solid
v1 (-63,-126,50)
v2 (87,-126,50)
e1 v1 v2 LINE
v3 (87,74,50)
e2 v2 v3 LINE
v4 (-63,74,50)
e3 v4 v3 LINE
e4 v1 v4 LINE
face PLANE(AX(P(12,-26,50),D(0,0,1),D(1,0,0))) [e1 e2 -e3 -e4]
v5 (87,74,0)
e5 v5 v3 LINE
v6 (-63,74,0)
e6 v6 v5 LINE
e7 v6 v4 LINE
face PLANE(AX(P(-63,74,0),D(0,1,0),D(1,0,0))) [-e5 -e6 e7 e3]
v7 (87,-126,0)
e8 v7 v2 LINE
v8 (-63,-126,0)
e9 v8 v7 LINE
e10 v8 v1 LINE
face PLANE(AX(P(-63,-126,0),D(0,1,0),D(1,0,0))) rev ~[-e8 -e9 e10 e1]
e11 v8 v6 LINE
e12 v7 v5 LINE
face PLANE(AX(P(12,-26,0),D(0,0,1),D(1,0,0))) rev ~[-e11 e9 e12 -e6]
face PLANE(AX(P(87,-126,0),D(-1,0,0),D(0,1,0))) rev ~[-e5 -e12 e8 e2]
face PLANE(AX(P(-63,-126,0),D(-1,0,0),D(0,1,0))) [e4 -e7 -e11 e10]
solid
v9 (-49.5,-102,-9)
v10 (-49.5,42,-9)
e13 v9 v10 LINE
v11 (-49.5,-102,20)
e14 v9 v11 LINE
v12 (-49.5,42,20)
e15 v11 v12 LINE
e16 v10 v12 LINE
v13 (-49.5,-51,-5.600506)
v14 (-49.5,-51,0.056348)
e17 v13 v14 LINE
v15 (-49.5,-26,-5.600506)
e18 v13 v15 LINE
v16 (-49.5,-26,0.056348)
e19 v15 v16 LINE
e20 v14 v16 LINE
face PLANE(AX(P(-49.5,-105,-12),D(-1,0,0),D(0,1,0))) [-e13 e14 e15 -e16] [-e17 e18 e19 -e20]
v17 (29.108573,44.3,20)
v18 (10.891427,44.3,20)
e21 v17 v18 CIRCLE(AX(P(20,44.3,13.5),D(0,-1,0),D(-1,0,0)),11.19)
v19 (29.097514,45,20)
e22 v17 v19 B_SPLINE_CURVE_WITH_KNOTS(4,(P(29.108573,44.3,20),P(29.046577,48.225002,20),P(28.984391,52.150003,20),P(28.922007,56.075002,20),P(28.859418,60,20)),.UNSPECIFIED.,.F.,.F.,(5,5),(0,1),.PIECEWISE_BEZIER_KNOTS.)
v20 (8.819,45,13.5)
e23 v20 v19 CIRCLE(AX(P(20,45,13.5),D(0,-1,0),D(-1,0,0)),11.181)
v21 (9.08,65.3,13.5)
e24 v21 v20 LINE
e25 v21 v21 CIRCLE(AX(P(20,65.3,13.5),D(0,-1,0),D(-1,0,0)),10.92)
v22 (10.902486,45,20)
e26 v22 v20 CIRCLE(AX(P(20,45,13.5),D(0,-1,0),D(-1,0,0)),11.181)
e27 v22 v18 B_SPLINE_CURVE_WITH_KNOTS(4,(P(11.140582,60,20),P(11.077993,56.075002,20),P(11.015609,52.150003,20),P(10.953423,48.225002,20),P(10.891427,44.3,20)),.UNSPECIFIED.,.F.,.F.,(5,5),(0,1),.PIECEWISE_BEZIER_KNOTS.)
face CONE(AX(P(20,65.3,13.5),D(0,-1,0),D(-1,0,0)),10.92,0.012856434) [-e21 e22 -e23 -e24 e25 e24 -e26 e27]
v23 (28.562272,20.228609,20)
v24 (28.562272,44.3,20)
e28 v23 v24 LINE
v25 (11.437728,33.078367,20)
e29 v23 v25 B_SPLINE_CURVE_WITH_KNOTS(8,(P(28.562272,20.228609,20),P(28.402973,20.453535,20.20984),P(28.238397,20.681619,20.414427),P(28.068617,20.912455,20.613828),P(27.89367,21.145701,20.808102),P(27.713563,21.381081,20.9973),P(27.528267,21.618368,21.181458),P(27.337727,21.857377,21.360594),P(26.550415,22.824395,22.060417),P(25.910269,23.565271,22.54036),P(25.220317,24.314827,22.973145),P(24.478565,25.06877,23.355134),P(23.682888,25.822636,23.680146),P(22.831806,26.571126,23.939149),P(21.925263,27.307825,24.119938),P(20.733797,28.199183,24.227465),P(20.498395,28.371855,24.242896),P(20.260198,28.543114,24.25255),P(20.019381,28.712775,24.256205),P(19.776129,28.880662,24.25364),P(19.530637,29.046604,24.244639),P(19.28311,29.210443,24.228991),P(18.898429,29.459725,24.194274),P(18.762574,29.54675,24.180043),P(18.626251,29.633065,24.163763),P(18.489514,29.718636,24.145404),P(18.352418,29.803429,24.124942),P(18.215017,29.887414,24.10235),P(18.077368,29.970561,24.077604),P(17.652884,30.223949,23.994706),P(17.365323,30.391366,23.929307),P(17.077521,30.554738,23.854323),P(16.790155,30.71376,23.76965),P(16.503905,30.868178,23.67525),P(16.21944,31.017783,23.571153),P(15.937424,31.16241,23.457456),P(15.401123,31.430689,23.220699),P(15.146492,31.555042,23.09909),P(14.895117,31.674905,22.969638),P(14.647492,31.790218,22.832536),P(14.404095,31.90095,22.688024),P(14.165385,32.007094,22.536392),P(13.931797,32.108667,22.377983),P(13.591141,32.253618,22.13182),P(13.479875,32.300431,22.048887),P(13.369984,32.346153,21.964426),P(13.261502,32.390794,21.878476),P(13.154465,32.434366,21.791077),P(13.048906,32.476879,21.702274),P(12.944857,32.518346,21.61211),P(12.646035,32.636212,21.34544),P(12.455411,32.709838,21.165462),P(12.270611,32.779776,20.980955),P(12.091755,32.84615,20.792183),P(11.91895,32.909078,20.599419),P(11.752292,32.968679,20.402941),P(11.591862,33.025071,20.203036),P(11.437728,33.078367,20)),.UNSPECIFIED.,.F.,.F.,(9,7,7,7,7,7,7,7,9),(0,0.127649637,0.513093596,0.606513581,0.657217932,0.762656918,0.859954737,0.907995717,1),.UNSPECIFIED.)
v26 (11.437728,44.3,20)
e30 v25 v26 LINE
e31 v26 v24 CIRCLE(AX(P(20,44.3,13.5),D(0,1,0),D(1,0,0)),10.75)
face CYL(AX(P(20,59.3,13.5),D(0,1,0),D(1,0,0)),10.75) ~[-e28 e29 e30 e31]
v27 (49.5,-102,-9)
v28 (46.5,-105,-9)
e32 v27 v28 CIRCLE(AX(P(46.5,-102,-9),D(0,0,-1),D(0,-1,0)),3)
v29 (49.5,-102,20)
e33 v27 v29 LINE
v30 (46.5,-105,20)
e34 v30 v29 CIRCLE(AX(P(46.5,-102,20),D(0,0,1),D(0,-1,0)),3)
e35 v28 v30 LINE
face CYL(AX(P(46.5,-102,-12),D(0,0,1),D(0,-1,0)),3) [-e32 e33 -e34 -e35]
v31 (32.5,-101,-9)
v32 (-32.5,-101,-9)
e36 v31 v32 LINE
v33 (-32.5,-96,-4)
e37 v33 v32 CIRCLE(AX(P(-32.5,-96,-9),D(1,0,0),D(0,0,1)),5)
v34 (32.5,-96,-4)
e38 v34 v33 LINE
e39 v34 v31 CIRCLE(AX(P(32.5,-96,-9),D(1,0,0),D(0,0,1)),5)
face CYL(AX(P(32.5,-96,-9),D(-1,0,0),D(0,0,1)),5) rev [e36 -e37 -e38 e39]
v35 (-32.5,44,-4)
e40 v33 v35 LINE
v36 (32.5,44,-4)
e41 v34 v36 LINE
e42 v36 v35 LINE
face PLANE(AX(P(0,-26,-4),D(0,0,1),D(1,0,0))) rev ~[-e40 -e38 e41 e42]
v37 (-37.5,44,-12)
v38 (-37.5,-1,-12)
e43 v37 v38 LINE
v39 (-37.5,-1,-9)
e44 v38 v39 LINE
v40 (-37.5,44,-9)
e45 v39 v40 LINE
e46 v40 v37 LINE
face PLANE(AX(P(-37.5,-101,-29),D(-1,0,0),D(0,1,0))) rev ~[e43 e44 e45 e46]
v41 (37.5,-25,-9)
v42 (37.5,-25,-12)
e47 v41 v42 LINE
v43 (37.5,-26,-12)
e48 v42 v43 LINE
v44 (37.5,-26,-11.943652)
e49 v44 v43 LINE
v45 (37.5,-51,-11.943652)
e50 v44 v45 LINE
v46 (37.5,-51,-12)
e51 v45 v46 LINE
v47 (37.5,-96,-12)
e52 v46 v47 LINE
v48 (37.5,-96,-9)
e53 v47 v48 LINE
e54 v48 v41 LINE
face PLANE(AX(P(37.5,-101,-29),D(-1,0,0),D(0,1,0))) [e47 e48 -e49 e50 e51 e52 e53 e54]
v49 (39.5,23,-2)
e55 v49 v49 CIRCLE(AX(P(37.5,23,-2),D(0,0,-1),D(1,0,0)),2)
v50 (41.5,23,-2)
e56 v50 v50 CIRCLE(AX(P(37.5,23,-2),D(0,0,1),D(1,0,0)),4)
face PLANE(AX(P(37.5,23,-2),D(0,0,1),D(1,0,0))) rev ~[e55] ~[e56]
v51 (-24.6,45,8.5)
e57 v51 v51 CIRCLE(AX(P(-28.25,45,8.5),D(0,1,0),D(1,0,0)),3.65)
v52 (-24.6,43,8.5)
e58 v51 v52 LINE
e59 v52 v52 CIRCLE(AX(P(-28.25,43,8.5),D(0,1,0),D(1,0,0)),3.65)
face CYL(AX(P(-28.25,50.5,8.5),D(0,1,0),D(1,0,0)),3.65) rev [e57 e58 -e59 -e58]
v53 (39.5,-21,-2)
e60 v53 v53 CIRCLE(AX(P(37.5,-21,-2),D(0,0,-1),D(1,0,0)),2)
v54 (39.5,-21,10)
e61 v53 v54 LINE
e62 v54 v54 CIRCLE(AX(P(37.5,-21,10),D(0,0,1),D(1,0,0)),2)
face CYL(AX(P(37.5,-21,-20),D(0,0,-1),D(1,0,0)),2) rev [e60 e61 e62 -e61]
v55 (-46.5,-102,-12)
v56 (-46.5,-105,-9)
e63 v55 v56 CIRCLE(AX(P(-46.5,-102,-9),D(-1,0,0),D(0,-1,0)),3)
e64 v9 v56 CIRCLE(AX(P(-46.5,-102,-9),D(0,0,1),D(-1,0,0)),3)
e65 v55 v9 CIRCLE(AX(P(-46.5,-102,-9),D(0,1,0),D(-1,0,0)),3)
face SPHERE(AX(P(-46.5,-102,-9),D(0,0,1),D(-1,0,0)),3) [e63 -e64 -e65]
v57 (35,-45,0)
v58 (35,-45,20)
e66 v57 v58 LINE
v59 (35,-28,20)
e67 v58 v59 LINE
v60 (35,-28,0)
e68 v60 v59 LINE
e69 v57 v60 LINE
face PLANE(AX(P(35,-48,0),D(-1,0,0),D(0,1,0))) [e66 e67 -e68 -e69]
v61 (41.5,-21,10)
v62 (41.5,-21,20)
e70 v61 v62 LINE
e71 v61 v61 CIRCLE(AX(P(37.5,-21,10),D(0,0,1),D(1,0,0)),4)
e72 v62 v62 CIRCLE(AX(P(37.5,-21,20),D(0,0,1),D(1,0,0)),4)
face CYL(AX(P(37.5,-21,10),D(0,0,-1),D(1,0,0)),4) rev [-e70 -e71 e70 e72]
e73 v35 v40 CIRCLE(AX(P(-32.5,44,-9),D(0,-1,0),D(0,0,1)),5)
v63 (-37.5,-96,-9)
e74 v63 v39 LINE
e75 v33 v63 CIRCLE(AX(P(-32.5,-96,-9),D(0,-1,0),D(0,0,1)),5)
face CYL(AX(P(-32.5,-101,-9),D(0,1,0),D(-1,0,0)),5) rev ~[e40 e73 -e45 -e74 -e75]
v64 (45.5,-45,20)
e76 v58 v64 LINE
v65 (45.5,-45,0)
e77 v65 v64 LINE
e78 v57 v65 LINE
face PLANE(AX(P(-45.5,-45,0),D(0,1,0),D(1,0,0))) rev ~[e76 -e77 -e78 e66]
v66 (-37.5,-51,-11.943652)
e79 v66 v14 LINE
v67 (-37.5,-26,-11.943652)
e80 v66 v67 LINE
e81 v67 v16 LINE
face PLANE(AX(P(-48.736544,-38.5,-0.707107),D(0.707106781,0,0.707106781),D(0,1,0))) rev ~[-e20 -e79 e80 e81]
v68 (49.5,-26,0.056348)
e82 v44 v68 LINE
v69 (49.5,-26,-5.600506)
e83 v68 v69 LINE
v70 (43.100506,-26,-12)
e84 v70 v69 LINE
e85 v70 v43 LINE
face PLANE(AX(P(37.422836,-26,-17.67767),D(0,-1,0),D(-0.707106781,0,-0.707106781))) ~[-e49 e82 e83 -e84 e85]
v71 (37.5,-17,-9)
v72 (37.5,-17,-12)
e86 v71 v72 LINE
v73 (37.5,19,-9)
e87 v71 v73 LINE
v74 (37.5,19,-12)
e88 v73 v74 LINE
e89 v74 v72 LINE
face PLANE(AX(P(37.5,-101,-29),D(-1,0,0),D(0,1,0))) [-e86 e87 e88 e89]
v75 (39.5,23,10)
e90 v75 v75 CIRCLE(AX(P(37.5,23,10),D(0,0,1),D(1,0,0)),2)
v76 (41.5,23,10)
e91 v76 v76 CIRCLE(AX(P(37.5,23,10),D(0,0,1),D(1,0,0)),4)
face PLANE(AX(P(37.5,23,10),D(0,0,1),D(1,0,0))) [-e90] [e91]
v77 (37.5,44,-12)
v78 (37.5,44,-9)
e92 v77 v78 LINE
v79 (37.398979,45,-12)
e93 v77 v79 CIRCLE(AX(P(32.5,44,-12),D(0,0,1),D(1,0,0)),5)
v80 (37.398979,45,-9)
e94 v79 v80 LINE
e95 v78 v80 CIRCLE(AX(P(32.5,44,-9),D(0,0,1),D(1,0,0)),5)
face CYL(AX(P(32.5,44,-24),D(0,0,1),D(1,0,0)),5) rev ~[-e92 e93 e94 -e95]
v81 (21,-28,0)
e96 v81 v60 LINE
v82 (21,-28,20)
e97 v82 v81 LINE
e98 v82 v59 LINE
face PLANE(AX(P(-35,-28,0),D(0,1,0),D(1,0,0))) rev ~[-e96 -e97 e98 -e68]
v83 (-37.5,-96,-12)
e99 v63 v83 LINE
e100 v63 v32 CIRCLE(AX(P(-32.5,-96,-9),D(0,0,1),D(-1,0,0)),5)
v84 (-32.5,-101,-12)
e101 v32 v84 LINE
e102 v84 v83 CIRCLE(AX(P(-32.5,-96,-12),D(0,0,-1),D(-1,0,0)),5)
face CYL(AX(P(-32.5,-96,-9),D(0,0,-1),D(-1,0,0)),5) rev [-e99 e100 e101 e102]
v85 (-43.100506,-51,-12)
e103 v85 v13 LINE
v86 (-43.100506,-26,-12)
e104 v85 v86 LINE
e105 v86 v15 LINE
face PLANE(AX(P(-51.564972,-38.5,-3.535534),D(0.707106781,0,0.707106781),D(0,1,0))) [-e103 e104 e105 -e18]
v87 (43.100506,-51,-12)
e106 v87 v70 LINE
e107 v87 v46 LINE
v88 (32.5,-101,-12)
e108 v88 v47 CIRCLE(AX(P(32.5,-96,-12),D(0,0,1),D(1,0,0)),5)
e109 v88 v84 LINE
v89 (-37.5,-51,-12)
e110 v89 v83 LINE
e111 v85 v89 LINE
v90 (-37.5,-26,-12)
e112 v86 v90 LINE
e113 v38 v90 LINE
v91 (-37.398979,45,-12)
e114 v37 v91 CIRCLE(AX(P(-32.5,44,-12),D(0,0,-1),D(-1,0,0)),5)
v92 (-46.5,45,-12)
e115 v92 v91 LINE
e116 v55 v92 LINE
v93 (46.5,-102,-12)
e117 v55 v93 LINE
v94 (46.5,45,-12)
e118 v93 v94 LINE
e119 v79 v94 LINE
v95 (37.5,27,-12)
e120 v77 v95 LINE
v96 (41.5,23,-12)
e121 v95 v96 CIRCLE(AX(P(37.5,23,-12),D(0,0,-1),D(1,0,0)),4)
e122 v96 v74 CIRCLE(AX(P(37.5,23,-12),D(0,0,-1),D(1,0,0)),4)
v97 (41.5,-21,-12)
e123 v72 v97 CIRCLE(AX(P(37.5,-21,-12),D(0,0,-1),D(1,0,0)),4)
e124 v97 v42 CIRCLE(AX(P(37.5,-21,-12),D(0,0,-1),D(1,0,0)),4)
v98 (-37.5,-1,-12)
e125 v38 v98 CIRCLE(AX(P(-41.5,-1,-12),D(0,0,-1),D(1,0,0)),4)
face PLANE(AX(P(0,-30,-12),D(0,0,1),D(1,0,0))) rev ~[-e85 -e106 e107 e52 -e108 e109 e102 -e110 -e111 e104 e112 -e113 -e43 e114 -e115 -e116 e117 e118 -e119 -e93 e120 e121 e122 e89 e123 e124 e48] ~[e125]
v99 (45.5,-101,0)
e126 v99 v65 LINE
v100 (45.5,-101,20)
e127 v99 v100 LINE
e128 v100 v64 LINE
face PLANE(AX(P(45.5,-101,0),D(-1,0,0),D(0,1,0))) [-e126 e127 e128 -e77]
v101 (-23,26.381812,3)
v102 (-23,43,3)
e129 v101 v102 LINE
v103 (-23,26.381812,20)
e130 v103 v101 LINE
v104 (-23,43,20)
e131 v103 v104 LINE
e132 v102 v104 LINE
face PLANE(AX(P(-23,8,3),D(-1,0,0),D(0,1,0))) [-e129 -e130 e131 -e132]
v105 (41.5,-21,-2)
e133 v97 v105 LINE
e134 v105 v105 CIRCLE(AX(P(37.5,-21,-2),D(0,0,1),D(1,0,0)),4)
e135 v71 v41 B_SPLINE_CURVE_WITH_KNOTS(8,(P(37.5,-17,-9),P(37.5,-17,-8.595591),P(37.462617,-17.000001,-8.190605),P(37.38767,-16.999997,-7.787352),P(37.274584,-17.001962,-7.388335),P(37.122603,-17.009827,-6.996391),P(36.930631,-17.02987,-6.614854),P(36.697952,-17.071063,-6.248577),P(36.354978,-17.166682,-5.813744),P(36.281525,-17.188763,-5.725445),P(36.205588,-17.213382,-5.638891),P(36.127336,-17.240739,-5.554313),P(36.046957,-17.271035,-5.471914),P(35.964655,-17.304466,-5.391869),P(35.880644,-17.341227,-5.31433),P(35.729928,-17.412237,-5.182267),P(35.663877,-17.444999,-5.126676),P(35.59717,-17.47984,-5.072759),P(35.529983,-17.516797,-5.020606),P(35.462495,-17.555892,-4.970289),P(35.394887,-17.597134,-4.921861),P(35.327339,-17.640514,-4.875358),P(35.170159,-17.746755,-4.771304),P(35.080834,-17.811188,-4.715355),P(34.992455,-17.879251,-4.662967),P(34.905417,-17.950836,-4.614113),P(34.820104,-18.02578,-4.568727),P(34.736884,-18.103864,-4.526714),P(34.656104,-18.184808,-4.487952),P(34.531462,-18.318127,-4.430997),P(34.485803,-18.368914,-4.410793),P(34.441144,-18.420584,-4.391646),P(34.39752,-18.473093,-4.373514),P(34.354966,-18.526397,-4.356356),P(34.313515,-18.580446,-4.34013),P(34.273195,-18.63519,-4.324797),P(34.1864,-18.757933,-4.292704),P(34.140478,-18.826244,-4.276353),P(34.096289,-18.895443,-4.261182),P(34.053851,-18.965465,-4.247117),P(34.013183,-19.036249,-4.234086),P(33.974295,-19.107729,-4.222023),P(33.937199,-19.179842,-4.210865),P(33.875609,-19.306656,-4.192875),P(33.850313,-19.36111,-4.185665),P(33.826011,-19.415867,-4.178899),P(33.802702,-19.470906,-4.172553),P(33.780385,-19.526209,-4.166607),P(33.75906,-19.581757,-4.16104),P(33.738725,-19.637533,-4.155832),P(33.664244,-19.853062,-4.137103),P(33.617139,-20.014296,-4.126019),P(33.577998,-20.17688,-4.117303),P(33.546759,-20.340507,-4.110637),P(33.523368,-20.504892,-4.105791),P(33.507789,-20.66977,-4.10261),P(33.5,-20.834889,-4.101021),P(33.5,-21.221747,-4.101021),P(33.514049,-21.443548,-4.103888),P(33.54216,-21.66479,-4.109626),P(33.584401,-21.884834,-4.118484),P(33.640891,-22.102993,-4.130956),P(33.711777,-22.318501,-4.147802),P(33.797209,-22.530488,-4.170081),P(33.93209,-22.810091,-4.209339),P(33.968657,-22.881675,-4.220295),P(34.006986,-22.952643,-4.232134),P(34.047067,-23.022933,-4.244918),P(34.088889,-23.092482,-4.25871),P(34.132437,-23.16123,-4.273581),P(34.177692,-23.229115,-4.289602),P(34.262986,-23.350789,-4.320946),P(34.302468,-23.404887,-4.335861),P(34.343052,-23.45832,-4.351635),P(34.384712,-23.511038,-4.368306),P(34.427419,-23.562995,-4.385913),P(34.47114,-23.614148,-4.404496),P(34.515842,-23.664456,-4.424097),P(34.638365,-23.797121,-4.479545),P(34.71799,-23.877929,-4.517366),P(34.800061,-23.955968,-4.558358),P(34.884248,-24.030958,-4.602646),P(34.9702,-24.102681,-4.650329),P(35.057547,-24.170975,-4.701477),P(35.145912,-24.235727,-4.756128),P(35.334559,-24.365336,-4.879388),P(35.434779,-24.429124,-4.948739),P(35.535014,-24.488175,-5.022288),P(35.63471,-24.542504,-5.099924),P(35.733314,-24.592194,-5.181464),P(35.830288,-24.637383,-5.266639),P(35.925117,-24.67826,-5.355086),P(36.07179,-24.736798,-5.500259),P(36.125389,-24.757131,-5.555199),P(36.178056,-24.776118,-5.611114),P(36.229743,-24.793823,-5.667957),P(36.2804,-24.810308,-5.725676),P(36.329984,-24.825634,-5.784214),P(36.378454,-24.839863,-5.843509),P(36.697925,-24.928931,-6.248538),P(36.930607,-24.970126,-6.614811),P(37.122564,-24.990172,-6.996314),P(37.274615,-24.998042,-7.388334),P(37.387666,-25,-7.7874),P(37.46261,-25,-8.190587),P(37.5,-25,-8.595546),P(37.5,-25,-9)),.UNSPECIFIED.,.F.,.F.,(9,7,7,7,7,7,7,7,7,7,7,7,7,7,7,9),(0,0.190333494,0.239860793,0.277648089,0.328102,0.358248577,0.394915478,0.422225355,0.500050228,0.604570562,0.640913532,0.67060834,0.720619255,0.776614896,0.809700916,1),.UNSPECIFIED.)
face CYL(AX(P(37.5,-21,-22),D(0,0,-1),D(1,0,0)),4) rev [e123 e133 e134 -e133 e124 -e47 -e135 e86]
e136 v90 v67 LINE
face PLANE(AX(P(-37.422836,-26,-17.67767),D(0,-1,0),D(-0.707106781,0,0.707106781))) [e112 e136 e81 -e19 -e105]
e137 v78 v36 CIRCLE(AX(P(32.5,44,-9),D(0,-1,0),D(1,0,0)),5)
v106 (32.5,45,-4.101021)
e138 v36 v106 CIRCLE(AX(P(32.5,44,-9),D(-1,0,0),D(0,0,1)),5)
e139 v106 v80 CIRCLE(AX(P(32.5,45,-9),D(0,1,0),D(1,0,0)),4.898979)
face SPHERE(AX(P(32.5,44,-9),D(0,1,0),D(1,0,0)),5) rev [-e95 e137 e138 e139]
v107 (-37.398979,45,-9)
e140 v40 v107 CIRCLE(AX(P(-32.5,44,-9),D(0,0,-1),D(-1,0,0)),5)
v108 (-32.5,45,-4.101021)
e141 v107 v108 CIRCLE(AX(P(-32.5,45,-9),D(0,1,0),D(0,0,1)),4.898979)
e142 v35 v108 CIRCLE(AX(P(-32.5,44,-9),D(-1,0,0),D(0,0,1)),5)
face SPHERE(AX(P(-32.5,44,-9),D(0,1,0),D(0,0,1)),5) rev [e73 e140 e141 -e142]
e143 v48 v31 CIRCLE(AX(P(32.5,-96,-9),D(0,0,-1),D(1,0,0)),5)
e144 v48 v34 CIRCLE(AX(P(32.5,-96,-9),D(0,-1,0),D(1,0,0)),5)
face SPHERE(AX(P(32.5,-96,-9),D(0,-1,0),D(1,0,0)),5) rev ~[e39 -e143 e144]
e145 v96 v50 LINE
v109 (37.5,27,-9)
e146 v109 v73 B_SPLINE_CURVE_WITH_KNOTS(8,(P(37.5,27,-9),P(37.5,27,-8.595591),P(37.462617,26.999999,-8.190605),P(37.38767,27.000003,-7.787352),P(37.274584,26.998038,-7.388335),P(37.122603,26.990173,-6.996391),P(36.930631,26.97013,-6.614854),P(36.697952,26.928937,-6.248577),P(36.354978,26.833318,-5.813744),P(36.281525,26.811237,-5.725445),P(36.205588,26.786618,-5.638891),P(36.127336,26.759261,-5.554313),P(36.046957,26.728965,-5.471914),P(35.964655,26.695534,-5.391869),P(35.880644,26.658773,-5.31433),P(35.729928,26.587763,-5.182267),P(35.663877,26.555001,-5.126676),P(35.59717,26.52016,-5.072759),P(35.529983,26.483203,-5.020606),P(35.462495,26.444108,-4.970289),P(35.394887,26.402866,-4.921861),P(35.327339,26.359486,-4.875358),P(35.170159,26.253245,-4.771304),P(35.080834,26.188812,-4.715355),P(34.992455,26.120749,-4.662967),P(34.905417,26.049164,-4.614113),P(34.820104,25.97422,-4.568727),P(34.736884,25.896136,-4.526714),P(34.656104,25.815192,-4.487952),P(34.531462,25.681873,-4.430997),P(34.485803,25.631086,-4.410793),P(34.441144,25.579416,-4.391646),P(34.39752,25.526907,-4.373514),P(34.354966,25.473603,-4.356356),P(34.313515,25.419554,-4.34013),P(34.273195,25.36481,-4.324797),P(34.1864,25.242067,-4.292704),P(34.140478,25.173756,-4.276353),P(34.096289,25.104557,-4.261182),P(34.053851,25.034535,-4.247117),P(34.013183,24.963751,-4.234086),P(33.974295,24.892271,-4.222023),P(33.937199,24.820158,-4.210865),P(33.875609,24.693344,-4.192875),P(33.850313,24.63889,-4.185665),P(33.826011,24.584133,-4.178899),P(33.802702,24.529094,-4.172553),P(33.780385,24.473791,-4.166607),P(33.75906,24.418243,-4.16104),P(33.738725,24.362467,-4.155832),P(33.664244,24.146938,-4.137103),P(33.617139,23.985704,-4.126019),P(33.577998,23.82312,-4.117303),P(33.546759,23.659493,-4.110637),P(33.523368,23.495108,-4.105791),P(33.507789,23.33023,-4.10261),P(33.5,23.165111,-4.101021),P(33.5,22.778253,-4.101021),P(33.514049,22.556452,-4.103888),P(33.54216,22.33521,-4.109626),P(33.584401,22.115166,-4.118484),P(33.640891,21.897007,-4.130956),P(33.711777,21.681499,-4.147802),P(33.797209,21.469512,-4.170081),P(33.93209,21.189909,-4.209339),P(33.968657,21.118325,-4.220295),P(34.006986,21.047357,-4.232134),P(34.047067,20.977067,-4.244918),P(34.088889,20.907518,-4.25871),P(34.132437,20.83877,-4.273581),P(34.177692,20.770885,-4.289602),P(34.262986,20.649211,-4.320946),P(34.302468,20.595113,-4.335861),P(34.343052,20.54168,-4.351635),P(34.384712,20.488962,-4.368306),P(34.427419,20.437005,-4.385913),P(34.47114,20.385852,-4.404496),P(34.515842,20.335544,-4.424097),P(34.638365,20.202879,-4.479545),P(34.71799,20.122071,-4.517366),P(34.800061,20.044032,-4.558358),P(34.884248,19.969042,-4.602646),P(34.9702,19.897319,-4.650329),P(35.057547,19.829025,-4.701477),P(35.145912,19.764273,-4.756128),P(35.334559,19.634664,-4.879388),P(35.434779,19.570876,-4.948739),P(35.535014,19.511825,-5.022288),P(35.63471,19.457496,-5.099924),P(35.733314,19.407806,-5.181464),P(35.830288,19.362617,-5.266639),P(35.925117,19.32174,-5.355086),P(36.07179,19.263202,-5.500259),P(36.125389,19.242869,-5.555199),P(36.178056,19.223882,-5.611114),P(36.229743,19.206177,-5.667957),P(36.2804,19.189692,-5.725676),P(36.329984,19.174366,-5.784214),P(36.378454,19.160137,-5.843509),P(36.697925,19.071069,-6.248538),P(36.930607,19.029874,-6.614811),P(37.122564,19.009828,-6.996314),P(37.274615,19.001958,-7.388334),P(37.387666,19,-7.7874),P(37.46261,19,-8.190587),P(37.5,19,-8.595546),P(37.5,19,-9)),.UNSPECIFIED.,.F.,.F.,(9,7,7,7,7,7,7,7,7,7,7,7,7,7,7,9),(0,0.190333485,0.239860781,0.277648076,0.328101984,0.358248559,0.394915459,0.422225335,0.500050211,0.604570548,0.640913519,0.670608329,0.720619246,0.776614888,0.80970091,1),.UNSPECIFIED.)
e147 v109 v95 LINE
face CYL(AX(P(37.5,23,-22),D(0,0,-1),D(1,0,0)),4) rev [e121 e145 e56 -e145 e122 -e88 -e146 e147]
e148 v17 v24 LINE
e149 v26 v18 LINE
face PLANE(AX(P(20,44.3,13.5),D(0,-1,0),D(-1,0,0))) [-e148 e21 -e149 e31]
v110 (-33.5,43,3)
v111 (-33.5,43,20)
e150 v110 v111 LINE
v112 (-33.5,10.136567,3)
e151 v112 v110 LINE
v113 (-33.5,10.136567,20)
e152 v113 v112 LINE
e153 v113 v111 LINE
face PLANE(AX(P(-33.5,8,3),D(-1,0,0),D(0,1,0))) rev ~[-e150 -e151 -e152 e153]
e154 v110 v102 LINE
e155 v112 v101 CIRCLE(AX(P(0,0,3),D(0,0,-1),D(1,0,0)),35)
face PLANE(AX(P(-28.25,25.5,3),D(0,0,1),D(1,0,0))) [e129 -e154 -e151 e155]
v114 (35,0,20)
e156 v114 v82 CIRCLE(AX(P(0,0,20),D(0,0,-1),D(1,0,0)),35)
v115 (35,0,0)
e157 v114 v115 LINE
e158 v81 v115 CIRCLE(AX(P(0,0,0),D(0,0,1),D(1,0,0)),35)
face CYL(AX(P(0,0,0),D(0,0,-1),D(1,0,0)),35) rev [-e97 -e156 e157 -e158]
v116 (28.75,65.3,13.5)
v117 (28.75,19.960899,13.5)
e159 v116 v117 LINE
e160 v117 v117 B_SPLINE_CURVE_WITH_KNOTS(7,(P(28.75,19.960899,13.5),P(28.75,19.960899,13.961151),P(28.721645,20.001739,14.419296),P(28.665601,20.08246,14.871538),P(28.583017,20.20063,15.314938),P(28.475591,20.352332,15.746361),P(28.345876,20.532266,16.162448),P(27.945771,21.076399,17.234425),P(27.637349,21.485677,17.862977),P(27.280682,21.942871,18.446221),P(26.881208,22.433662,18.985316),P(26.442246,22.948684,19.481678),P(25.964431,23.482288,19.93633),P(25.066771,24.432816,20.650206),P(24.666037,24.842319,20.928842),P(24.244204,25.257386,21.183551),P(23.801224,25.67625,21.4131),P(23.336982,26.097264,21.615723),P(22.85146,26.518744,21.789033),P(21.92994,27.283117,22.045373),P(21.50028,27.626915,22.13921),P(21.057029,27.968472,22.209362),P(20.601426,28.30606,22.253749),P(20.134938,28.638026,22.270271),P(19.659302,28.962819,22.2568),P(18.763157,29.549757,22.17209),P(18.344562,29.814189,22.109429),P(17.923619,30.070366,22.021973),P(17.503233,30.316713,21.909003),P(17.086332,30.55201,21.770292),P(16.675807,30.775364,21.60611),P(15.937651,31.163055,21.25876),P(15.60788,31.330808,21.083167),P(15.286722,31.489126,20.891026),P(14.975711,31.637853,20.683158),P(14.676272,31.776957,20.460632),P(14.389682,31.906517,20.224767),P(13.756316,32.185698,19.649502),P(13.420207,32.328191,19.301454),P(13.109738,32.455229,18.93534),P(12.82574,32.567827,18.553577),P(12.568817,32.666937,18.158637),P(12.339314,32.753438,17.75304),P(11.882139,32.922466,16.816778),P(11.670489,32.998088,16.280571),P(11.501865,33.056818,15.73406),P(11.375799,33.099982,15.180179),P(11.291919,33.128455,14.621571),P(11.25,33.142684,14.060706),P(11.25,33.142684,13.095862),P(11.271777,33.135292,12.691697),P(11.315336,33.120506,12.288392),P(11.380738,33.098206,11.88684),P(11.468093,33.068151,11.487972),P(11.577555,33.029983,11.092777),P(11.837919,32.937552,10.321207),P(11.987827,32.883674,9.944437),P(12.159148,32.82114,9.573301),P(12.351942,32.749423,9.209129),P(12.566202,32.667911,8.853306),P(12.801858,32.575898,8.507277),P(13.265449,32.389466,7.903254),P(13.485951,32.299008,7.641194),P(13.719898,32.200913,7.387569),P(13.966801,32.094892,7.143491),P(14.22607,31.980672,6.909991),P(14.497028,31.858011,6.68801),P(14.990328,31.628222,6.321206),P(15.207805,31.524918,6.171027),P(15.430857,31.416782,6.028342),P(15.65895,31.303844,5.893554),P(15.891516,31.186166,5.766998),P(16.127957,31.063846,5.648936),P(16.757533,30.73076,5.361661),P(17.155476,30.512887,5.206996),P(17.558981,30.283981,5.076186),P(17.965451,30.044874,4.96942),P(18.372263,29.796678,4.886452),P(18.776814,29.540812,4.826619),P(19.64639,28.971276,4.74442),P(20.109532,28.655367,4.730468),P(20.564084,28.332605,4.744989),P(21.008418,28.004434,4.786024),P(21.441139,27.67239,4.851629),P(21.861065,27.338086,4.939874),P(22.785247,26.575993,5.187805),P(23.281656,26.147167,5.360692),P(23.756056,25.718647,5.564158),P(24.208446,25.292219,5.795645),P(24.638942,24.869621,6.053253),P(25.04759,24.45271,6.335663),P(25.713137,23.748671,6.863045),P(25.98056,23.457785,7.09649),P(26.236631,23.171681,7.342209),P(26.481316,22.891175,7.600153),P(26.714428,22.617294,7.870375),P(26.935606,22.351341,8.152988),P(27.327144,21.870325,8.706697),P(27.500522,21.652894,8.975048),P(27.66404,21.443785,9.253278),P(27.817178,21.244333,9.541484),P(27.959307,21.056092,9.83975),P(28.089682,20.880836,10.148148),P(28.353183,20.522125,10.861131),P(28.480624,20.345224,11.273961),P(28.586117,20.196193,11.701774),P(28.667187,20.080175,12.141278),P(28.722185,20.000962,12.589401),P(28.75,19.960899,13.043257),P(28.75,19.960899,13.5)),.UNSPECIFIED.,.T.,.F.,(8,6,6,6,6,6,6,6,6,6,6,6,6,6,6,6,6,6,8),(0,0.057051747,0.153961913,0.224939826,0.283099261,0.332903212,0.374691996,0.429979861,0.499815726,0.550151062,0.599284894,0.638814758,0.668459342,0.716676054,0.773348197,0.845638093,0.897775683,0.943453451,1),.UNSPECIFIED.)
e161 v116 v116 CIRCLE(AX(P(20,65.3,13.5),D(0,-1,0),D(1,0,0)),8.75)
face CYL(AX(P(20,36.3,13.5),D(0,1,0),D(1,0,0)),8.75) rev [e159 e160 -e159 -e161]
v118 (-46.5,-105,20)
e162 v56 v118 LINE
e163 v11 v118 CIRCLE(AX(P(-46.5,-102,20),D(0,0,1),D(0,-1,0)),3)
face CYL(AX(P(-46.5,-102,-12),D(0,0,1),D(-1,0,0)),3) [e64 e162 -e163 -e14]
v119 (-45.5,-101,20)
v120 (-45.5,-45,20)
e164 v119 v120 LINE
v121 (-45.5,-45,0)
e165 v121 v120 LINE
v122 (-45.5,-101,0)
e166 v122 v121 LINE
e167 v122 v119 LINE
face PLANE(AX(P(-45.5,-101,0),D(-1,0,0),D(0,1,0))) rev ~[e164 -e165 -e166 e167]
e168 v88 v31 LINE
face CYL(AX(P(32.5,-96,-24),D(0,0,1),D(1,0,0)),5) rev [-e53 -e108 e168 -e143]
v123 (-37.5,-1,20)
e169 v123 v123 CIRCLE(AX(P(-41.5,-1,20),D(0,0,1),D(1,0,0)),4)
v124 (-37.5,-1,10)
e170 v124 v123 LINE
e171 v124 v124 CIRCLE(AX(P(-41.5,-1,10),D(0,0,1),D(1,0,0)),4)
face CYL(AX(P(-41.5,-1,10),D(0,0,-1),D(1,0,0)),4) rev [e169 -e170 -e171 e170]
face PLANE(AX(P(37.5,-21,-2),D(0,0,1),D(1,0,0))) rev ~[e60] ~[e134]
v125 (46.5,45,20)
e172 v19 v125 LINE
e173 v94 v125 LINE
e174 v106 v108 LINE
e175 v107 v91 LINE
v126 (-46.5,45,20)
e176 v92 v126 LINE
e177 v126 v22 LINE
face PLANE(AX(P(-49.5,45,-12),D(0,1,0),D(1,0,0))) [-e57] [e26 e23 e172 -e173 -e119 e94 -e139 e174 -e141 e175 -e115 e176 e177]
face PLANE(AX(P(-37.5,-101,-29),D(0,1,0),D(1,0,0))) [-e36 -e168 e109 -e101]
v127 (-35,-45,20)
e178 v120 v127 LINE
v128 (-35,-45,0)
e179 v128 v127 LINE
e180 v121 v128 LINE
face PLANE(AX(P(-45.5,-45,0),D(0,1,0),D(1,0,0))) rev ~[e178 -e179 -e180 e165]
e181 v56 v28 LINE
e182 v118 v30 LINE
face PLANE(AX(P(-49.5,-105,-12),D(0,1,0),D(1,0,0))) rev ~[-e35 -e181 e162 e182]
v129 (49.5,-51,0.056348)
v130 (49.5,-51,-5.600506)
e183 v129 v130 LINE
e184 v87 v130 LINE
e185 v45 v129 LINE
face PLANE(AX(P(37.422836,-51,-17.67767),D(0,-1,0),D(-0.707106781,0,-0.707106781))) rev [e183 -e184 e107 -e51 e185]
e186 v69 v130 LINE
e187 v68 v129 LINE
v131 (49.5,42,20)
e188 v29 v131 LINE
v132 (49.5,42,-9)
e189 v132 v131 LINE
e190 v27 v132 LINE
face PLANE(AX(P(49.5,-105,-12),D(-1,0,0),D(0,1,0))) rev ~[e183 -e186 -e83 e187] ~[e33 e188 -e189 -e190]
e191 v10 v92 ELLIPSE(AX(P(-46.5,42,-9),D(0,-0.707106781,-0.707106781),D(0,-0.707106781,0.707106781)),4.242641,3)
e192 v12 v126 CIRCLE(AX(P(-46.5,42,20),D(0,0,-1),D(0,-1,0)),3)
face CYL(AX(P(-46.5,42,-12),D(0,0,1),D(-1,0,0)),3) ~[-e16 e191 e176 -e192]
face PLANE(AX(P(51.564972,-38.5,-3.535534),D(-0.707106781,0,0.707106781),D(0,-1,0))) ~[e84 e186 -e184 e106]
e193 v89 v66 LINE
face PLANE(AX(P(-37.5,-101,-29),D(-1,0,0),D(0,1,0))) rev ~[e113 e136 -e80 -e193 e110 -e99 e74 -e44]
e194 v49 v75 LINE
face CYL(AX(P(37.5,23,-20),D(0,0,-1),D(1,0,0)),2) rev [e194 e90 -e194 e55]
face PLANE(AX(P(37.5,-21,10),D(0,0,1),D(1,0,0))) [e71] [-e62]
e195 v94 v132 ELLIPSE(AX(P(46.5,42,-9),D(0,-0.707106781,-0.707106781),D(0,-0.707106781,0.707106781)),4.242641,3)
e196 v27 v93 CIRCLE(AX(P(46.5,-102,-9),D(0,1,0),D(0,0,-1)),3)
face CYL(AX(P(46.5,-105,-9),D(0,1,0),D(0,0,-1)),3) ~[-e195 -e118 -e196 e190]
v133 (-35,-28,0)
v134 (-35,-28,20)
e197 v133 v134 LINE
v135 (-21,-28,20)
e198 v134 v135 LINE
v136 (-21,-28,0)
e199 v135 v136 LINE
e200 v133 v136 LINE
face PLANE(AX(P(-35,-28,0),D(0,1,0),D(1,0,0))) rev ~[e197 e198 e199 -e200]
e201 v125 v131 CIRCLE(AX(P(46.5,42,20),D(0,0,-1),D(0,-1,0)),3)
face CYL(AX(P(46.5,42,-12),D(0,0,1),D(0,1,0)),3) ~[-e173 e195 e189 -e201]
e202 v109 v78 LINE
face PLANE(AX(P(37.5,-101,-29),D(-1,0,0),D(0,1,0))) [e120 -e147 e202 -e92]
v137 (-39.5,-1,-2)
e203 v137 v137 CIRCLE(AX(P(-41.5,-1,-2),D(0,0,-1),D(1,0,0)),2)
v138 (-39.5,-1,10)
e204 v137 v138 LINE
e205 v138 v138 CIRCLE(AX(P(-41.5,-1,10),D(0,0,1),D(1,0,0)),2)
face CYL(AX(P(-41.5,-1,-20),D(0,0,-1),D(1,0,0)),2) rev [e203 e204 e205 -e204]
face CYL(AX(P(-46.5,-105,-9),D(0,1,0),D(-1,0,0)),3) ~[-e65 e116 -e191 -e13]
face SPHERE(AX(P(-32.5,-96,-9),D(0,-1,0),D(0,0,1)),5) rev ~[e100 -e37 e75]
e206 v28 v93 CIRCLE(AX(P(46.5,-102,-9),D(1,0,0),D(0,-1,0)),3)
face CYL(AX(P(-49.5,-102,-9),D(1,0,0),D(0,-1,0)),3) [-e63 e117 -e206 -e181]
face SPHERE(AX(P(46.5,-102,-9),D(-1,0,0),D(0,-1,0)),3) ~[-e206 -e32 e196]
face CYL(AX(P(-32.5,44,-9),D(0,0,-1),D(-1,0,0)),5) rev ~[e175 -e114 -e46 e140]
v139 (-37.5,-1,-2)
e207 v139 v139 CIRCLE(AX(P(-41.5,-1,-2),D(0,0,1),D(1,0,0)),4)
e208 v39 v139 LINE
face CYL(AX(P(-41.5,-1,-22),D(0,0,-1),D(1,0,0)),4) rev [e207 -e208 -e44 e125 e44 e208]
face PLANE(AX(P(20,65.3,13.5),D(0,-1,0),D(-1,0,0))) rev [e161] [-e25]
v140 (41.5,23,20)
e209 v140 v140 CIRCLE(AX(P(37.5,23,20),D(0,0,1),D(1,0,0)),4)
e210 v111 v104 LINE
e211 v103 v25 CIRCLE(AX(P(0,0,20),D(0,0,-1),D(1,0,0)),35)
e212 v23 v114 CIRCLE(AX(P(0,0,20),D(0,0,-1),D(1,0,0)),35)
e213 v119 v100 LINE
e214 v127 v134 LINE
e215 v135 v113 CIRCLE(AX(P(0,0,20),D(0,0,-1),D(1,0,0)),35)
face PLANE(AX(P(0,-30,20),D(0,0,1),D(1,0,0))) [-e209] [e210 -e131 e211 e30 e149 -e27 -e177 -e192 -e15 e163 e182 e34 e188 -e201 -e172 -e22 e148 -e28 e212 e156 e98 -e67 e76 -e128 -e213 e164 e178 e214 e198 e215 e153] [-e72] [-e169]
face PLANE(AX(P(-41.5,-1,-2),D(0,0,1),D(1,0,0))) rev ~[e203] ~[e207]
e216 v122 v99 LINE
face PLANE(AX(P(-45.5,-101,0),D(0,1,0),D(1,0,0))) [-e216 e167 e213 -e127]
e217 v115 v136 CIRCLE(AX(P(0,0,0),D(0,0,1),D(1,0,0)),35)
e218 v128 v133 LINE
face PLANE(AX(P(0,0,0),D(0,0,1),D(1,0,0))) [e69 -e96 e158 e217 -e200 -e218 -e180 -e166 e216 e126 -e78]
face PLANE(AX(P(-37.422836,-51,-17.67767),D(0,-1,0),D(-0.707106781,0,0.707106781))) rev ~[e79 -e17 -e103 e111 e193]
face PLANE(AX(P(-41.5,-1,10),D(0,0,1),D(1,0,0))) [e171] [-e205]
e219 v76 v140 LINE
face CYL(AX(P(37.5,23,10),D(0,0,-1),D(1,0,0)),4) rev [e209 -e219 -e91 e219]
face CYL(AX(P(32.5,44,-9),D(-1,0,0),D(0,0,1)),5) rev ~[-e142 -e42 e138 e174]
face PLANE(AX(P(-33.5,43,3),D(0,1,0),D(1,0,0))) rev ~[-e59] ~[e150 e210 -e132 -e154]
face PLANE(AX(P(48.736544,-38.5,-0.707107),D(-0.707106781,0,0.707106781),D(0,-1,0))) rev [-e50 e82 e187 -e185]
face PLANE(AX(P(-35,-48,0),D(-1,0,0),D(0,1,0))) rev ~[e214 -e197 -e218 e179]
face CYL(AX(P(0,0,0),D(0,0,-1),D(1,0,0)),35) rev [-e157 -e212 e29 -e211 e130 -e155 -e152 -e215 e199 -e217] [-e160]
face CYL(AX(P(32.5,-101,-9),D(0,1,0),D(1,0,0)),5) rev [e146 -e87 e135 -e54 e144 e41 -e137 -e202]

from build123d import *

# Parameters (mm, degrees)
BOX007_W               = 150
BOX007_H               = 200
BOX007_DEPTH           = 50
BOX006_W               = 25
BOX006_H               = 40
BOX006_DEPTH           = 4
BOX006_ROLL_ANGLE      = 45
BOX006_PLACEMENT_ANGLE = 90
BOX005_W               = 25
BOX005_H               = 40
BOX005_DEPTH           = 4
BOX005_ROLL_ANGLE      = 45
BOX005_PLACEMENT_ANGLE = 90
CYLINDER014_R          = 4
CYLINDER014_DEPTH      = 20
CYLINDER015_R          = 4
CYLINDER015_DEPTH      = 20
CYLINDER016_R          = 4
CYLINDER016_DEPTH      = 20
CYLINDER011_R          = 2
CYLINDER011_DEPTH      = 30
CYLINDER012_R          = 2
CYLINDER012_DEPTH      = 30
CYLINDER013_R          = 2
CYLINDER013_DEPTH      = 30
CYLINDER009_R          = 4
CYLINDER009_DEPTH      = 10
CYLINDER010_R          = 4
CYLINDER010_DEPTH      = 10
CYLINDER008_R          = 4
CYLINDER008_DEPTH      = 10
BOX001_W               = 70
BOX001_H               = 20
BOX001_DEPTH           = 20
BOX_W                  = 91
BOX_H                  = 56
BOX_DEPTH              = 20
BOX002_W               = 10.5
BOX002_H               = 35
BOX002_DEPTH           = 17
CYLINDER006_R          = 3.65
CYLINDER006_DEPTH      = 10
BOX003_W               = 75
BOX003_H               = 150
BOX003_DEPTH           = 25
FILLET_R               = 5
FILLET001_R            = 5
FILLET002_R            = 5
FILLET003_R            = 5
FILLET004_R            = 5
FILLET005_R            = 5
CYLINDER003_R          = 8.75
CYLINDER003_DEPTH      = 40
CYLINDER002_R          = 2
CYLINDER002_DEPTH      = 10
ARRAY_COUNT            = 3
CYLINDER001_R          = 2.25
CYLINDER001_DEPTH      = 5
CYLINDER_R             = 35
CYLINDER_DEPTH         = 18
CYLINDER004_R          = 35
CYLINDER004_DEPTH      = 25
CYLINDER005_R          = 8.75
CYLINDER005_DEPTH      = 40
CYLINDER007_R          = 10.75
CYLINDER007_DEPTH      = 40
BOX004_W               = 99
BOX004_H               = 150
BOX004_DEPTH           = 32
FILLET006_R            = 3


with BuildPart() as cube001:
    # Box007 → Box007 (new body)
    with BuildSketch(Plane(origin=(-63, -126, 0), x_dir=(1, 0, 0), z_dir=(0, 0, 1))):
        with Locations((75, 100)):
            Rectangle(BOX007_W, BOX007_H)
    extrude(amount=BOX007_DEPTH)


with BuildPart() as slot2:
    # Box006 → Box006 (new body)
    with BuildSketch(Plane.XY):
        with Locations((12.5, 20)):
            Rectangle(BOX006_W, BOX006_H)
    extrude(amount=BOX006_DEPTH)


with BuildPart() as slot2_1:
    # Box006 roll: moved
    add(slot2.part.rotate(Axis((0, 0, 0), (1, 0, 0)), BOX006_ROLL_ANGLE))


with BuildPart() as slot2_2:
    # Box006 placement: moved
    add(slot2_1.part.moved(Location((-37.422836, -44, -17.67767))).rotate(Axis((-37.422836, -44, -17.67767), (0, 0, 1)), BOX006_PLACEMENT_ANGLE))


with BuildPart() as part_mirroring:
    # Part__Mirroring: instance of Slot2
    add(slot2_2.part.mirror(Plane(origin=(0, 0, 0), x_dir=(0, -1, 0), z_dir=(1, 0, 0))))


with BuildPart() as part_mirroring_1:
    # Part__Mirroring placement: moved
    add(part_mirroring.part.moved(Location((0, -7, 0))))


with BuildPart() as strapslots:
    # Box005 → Box005 (new body)
    with BuildSketch(Plane.XY):
        with Locations((12.5, 20)):
            Rectangle(BOX005_W, BOX005_H)
    extrude(amount=BOX005_DEPTH)


with BuildPart() as strapslots_1:
    # Box005 roll: moved
    add(strapslots.part.rotate(Axis((0, 0, 0), (1, 0, 0)), BOX005_ROLL_ANGLE))


with BuildPart() as strapslots_2:
    # Box005 placement: moved
    add(strapslots_1.part.moved(Location((-37.422836, -51, -17.67767))).rotate(Axis((-37.422836, -51, -17.67767), (0, 0, 1)), BOX005_PLACEMENT_ANGLE))

    # Fusion011: union Part__Mirroring
    add(part_mirroring_1.part)


with BuildPart() as cylinder009:
    # Cylinder014 → Cylinder014 (new body)
    with BuildSketch(Plane(origin=(37.5, -21, 10), x_dir=(1, 0, 0), z_dir=(0, 0, 1))):
        Circle(CYLINDER014_R)
    extrude(amount=CYLINDER014_DEPTH)


with BuildPart() as cylinder010:
    # Cylinder015 → Cylinder015 (new body)
    with BuildSketch(Plane(origin=(37.5, 23, 10), x_dir=(1, 0, 0), z_dir=(0, 0, 1))):
        Circle(CYLINDER015_R)
    extrude(amount=CYLINDER015_DEPTH)


with BuildPart() as mounting002:
    # Cylinder016 → Cylinder016 (new body)
    with BuildSketch(Plane(origin=(-41.5, -1, 10), x_dir=(1, 0, 0), z_dir=(0, 0, 1))):
        Circle(CYLINDER016_R)
    extrude(amount=CYLINDER016_DEPTH)

    # Fusion008: union Cylinder009, Cylinder010
    add(cylinder009.part)
    add(cylinder010.part)


with BuildPart() as mounting002_1:
    # Fusion008 placement: moved
    add(mounting002.part.moved(Location((0, 0, -32))))


with BuildPart() as cylinder006:
    # Cylinder011 → Cylinder011 (new body)
    with BuildSketch(Plane(origin=(37.5, -21, 10), x_dir=(1, 0, 0), z_dir=(0, 0, 1))):
        Circle(CYLINDER011_R)
    extrude(amount=CYLINDER011_DEPTH)


with BuildPart() as cylinder007:
    # Cylinder012 → Cylinder012 (new body)
    with BuildSketch(Plane(origin=(37.5, 23, 10), x_dir=(1, 0, 0), z_dir=(0, 0, 1))):
        Circle(CYLINDER012_R)
    extrude(amount=CYLINDER012_DEPTH)


with BuildPart() as bottommounting:
    # Cylinder013 → Cylinder013 (new body)
    with BuildSketch(Plane(origin=(-41.5, -1, 10), x_dir=(1, 0, 0), z_dir=(0, 0, 1))):
        Circle(CYLINDER013_R)
    extrude(amount=CYLINDER013_DEPTH)

    # Fusion007: union Cylinder006, Cylinder007
    add(cylinder006.part)
    add(cylinder007.part)


with BuildPart() as bottommounting_1:
    # Fusion007 placement: moved
    add(bottommounting.part.moved(Location((0, 0, -30))))

    # Fusion009: union Mounting002
    add(mounting002_1.part)


with BuildPart() as cylinder004:
    # Cylinder009 → Cylinder009 (new body)
    with BuildSketch(Plane(origin=(37.5, -21, 10), x_dir=(1, 0, 0), z_dir=(0, 0, 1))):
        Circle(CYLINDER009_R)
    extrude(amount=CYLINDER009_DEPTH)


with BuildPart() as cylinder005:
    # Cylinder010 → Cylinder010 (new body)
    with BuildSketch(Plane(origin=(37.5, 23, 10), x_dir=(1, 0, 0), z_dir=(0, 0, 1))):
        Circle(CYLINDER010_R)
    extrude(amount=CYLINDER010_DEPTH)


with BuildPart() as combinedmounting:
    # Cylinder008 → Cylinder008 (new body)
    with BuildSketch(Plane(origin=(-41.5, -1, 10), x_dir=(1, 0, 0), z_dir=(0, 0, 1))):
        Circle(CYLINDER008_R)
    extrude(amount=CYLINDER008_DEPTH)

    # Fusion006: union Cylinder004, Cylinder005
    add(cylinder004.part)
    add(cylinder005.part)

    # Fusion010: union BottomMounting
    add(bottommounting_1.part)


with BuildPart() as wiringpocket:
    # Box001 → Box001 (new body)
    with BuildSketch(Plane(origin=(-35, -53, 0), x_dir=(1, 0, 0), z_dir=(0, 0, 1))):
        with Locations((35, 10)):
            Rectangle(BOX001_W, BOX001_H)
    extrude(amount=BOX001_DEPTH)


with BuildPart() as electronicspocket:
    # Box → Box (new body)
    with BuildSketch(Plane(origin=(-45.5, -106, 0), x_dir=(1, 0, 0), z_dir=(0, 0, 1))):
        with Locations((45.5, 28)):
            Rectangle(BOX_W, BOX_H)
    extrude(amount=BOX_DEPTH)

    # Fusion: union WiringPocket
    add(wiringpocket.part)


with BuildPart() as electronicspocket_1:
    # Fusion placement: moved
    add(electronicspocket.part.moved(Location((0, 5, 0))))


with BuildPart() as potentiometer:
    # Box002 → Box002 (new body)
    with BuildSketch(Plane(origin=(-30, 18, 5.5), x_dir=(1, 0, 0), z_dir=(0, 0, 1))):
        with Locations((5.25, 17.5)):
            Rectangle(BOX002_W, BOX002_H)
    extrude(amount=BOX002_DEPTH)


with BuildPart() as potpocket:
    # Cylinder006 → Cylinder006 (new body)
    with BuildSketch(Plane(origin=(-24.75, 60.5, 11), x_dir=(1, 0, 0), z_dir=(0, -1, 0))):
        Circle(CYLINDER006_R)
    extrude(amount=CYLINDER006_DEPTH)

    # Fusion001: union Potentiometer
    add(potentiometer.part)


with BuildPart() as potpocket_1:
    # Fusion001 placement: moved
    add(potpocket.part.moved(Location((-3.5, -10, -2.5))))


with BuildPart() as batterypocket:
    # Box003 → Box003 (new body)
    with BuildSketch(Plane(origin=(-37.5, -101, -29), x_dir=(1, 0, 0), z_dir=(0, 0, 1))):
        with Locations((37.5, 75)):
            Rectangle(BOX003_W, BOX003_H)
    extrude(amount=BOX003_DEPTH)

    # Fillet
    fillet_edges = [batterypocket.edges().sort_by_distance(p)[0] for p in [
        (-37.5, -26, -4),
    ]]
    fillet(fillet_edges, radius=FILLET_R)

    # Fillet001
    fillet001_edges = [batterypocket.edges().sort_by_distance(p)[0] for p in [
        (-37.5, -26, -29),
    ]]
    fillet(fillet001_edges, radius=FILLET001_R)

    # Fillet002
    fillet002_edges = [batterypocket.edges().sort_by_distance(p)[0] for p in [
        (37.5, -26, -29),
    ]]
    fillet(fillet002_edges, radius=FILLET002_R)

    # Fillet003
    fillet003_edges = [batterypocket.edges().sort_by_distance(p)[0] for p in [
        (37.5, -26, -4),
    ]]
    fillet(fillet003_edges, radius=FILLET003_R)

    # Fillet004
    fillet004_edges = [batterypocket.edges().sort_by_distance(p)[0] for p in [
        (0, 49, -29),
    ]]
    fillet(fillet004_edges, radius=FILLET004_R)

    # Fillet005
    fillet005_edges = [batterypocket.edges().sort_by_distance(p)[0] for p in [
        (37.5, -101, -16.5),
        (0, -101, -4),
        (0, -101, -29),
        (-37.5, -101, -16.5),
    ]]
    fillet(fillet005_edges, radius=FILLET005_R)


with BuildPart() as blowerinlet:
    # Cone → Cone (revolve)
    with BuildSketch(Plane(origin=(0, 0, 22.5), x_dir=(1, 0, 0), z_dir=(0, -1, 0))):
        Polygon((0, 0), (27.25, 0), (27.15, 13), (0, 13), align=None)
    revolve(axis=Axis((0, 0, 22.5), (0, 0, 1)))


with BuildPart() as bloweroutlet:
    # Cylinder003 → Cylinder003 (new body)
    with BuildSketch(Plane(origin=(20, 36.3, 13.5), x_dir=(1, 0, 0), z_dir=(0, -1, 0))):
        Circle(CYLINDER003_R)
    extrude(amount=CYLINDER003_DEPTH)


with BuildPart() as blowerfeet:
    # Cylinder002 → Cylinder002 (new body)
    with BuildSketch(Plane(origin=(0, -28.4, 0), x_dir=(1, 0, 0), z_dir=(0, 0, 1))):
        Circle(CYLINDER002_R)
    extrude(amount=CYLINDER002_DEPTH)

    # Array: BlowerFeet ×3 about axis
    array_axis = Axis((0, 0, 0), (0, 0, 1))


with BuildPart() as blowerfeet_1:
    add(blowerfeet.part)
    for i in range(1, ARRAY_COUNT):
        add(blowerfeet.part.rotate(array_axis, i * 360 / ARRAY_COUNT))


with BuildPart() as blowerendbearing:
    # Cylinder001 → Cylinder001 (new body)
    with BuildSketch(Plane.XY.offset(1)):
        Circle(CYLINDER001_R)
    extrude(amount=CYLINDER001_DEPTH)


with BuildPart() as blowerbody:
    # Cylinder → Cylinder (new body)
    with BuildSketch(Plane.XY.offset(4.5)):
        Circle(CYLINDER_R)
    extrude(amount=CYLINDER_DEPTH)


with BuildPart() as blowerpocket:
    # Cylinder004 → Cylinder004 (new body)
    with BuildSketch(Plane.XY):
        Circle(CYLINDER004_R)
    extrude(amount=CYLINDER004_DEPTH)

    # Fusion003: union BlowerInlet, BlowerOutlet, BlowerFeet, BlowerEndbearing, BlowerBody
    add(blowerinlet.part)
    add(bloweroutlet.part)
    add(blowerfeet_1.part)
    add(blowerendbearing.part)
    add(blowerbody.part)


with BuildPart() as combinedpocket:
    # Cylinder005 → Cylinder005 (new body)
    with BuildSketch(Plane(origin=(20, 65.3, 13.5), x_dir=(1, 0, 0), z_dir=(0, -1, 0))):
        Circle(CYLINDER005_R)
    extrude(amount=CYLINDER005_DEPTH)

    # Fusion004: union ElectronicsPocket, PotPocket, BatteryPocket, BlowerPocket
    add(electronicspocket_1.part)
    add(potpocket_1.part)
    add(batterypocket.part)
    add(blowerpocket.part)


with BuildPart() as housingoutlet:
    # Cylinder007 → Cylinder007 (new body)
    with BuildSketch(Plane(origin=(20, 59.3, 13.5), x_dir=(1, 0, 0), z_dir=(0, -1, 0))):
        Circle(CYLINDER007_R)
    extrude(amount=CYLINDER007_DEPTH)


with BuildPart() as housingblock:
    # Box004 → Box004 (new body)
    with BuildSketch(Plane(origin=(-49.5, -105, -12), x_dir=(1, 0, 0), z_dir=(0, 0, 1))):
        with Locations((49.5, 75)):
            Rectangle(BOX004_W, BOX004_H)
    extrude(amount=BOX004_DEPTH)


with BuildPart() as fillet006:
    # Cone001 → Cone001 (revolve)
    with BuildSketch(Plane(origin=(20, 65.3, 13.5), x_dir=(-1, 0, 0), z_dir=(0, 0, 1))):
        Polygon((0, 0), (10.92, 0), (11.19, 21), (0, 21), align=None)
    revolve(axis=Axis((20, 65.3, 13.5), (0, -1, 0)))

    # Fusion005: union HousingOutlet, HousingBlock
    add(housingoutlet.part)
    add(housingblock.part)

    # Cut: cut CombinedPocket
    add(combinedpocket.part, mode=Mode.SUBTRACT)

    # Cut001: cut CombinedMounting
    add(combinedmounting.part, mode=Mode.SUBTRACT)

    # Cut002: cut StrapSlots
    add(strapslots_2.part, mode=Mode.SUBTRACT)

    # Fillet006
    fillet006_edges = [fillet006.edges().sort_by_distance(p)[0] for p in [
        (-49.5, 45, 4),
        (49.5, 45, 4),
        (-49.5, -105, 4),
        (-49.5, -30, -12),
        (0, -105, -12),
        (49.5, -105, 4),
        (49.5, -30, -12),
    ]]
    fillet(fillet006_edges, radius=FILLET006_R)


solid = Compound([cube001.part, fillet006.part])
